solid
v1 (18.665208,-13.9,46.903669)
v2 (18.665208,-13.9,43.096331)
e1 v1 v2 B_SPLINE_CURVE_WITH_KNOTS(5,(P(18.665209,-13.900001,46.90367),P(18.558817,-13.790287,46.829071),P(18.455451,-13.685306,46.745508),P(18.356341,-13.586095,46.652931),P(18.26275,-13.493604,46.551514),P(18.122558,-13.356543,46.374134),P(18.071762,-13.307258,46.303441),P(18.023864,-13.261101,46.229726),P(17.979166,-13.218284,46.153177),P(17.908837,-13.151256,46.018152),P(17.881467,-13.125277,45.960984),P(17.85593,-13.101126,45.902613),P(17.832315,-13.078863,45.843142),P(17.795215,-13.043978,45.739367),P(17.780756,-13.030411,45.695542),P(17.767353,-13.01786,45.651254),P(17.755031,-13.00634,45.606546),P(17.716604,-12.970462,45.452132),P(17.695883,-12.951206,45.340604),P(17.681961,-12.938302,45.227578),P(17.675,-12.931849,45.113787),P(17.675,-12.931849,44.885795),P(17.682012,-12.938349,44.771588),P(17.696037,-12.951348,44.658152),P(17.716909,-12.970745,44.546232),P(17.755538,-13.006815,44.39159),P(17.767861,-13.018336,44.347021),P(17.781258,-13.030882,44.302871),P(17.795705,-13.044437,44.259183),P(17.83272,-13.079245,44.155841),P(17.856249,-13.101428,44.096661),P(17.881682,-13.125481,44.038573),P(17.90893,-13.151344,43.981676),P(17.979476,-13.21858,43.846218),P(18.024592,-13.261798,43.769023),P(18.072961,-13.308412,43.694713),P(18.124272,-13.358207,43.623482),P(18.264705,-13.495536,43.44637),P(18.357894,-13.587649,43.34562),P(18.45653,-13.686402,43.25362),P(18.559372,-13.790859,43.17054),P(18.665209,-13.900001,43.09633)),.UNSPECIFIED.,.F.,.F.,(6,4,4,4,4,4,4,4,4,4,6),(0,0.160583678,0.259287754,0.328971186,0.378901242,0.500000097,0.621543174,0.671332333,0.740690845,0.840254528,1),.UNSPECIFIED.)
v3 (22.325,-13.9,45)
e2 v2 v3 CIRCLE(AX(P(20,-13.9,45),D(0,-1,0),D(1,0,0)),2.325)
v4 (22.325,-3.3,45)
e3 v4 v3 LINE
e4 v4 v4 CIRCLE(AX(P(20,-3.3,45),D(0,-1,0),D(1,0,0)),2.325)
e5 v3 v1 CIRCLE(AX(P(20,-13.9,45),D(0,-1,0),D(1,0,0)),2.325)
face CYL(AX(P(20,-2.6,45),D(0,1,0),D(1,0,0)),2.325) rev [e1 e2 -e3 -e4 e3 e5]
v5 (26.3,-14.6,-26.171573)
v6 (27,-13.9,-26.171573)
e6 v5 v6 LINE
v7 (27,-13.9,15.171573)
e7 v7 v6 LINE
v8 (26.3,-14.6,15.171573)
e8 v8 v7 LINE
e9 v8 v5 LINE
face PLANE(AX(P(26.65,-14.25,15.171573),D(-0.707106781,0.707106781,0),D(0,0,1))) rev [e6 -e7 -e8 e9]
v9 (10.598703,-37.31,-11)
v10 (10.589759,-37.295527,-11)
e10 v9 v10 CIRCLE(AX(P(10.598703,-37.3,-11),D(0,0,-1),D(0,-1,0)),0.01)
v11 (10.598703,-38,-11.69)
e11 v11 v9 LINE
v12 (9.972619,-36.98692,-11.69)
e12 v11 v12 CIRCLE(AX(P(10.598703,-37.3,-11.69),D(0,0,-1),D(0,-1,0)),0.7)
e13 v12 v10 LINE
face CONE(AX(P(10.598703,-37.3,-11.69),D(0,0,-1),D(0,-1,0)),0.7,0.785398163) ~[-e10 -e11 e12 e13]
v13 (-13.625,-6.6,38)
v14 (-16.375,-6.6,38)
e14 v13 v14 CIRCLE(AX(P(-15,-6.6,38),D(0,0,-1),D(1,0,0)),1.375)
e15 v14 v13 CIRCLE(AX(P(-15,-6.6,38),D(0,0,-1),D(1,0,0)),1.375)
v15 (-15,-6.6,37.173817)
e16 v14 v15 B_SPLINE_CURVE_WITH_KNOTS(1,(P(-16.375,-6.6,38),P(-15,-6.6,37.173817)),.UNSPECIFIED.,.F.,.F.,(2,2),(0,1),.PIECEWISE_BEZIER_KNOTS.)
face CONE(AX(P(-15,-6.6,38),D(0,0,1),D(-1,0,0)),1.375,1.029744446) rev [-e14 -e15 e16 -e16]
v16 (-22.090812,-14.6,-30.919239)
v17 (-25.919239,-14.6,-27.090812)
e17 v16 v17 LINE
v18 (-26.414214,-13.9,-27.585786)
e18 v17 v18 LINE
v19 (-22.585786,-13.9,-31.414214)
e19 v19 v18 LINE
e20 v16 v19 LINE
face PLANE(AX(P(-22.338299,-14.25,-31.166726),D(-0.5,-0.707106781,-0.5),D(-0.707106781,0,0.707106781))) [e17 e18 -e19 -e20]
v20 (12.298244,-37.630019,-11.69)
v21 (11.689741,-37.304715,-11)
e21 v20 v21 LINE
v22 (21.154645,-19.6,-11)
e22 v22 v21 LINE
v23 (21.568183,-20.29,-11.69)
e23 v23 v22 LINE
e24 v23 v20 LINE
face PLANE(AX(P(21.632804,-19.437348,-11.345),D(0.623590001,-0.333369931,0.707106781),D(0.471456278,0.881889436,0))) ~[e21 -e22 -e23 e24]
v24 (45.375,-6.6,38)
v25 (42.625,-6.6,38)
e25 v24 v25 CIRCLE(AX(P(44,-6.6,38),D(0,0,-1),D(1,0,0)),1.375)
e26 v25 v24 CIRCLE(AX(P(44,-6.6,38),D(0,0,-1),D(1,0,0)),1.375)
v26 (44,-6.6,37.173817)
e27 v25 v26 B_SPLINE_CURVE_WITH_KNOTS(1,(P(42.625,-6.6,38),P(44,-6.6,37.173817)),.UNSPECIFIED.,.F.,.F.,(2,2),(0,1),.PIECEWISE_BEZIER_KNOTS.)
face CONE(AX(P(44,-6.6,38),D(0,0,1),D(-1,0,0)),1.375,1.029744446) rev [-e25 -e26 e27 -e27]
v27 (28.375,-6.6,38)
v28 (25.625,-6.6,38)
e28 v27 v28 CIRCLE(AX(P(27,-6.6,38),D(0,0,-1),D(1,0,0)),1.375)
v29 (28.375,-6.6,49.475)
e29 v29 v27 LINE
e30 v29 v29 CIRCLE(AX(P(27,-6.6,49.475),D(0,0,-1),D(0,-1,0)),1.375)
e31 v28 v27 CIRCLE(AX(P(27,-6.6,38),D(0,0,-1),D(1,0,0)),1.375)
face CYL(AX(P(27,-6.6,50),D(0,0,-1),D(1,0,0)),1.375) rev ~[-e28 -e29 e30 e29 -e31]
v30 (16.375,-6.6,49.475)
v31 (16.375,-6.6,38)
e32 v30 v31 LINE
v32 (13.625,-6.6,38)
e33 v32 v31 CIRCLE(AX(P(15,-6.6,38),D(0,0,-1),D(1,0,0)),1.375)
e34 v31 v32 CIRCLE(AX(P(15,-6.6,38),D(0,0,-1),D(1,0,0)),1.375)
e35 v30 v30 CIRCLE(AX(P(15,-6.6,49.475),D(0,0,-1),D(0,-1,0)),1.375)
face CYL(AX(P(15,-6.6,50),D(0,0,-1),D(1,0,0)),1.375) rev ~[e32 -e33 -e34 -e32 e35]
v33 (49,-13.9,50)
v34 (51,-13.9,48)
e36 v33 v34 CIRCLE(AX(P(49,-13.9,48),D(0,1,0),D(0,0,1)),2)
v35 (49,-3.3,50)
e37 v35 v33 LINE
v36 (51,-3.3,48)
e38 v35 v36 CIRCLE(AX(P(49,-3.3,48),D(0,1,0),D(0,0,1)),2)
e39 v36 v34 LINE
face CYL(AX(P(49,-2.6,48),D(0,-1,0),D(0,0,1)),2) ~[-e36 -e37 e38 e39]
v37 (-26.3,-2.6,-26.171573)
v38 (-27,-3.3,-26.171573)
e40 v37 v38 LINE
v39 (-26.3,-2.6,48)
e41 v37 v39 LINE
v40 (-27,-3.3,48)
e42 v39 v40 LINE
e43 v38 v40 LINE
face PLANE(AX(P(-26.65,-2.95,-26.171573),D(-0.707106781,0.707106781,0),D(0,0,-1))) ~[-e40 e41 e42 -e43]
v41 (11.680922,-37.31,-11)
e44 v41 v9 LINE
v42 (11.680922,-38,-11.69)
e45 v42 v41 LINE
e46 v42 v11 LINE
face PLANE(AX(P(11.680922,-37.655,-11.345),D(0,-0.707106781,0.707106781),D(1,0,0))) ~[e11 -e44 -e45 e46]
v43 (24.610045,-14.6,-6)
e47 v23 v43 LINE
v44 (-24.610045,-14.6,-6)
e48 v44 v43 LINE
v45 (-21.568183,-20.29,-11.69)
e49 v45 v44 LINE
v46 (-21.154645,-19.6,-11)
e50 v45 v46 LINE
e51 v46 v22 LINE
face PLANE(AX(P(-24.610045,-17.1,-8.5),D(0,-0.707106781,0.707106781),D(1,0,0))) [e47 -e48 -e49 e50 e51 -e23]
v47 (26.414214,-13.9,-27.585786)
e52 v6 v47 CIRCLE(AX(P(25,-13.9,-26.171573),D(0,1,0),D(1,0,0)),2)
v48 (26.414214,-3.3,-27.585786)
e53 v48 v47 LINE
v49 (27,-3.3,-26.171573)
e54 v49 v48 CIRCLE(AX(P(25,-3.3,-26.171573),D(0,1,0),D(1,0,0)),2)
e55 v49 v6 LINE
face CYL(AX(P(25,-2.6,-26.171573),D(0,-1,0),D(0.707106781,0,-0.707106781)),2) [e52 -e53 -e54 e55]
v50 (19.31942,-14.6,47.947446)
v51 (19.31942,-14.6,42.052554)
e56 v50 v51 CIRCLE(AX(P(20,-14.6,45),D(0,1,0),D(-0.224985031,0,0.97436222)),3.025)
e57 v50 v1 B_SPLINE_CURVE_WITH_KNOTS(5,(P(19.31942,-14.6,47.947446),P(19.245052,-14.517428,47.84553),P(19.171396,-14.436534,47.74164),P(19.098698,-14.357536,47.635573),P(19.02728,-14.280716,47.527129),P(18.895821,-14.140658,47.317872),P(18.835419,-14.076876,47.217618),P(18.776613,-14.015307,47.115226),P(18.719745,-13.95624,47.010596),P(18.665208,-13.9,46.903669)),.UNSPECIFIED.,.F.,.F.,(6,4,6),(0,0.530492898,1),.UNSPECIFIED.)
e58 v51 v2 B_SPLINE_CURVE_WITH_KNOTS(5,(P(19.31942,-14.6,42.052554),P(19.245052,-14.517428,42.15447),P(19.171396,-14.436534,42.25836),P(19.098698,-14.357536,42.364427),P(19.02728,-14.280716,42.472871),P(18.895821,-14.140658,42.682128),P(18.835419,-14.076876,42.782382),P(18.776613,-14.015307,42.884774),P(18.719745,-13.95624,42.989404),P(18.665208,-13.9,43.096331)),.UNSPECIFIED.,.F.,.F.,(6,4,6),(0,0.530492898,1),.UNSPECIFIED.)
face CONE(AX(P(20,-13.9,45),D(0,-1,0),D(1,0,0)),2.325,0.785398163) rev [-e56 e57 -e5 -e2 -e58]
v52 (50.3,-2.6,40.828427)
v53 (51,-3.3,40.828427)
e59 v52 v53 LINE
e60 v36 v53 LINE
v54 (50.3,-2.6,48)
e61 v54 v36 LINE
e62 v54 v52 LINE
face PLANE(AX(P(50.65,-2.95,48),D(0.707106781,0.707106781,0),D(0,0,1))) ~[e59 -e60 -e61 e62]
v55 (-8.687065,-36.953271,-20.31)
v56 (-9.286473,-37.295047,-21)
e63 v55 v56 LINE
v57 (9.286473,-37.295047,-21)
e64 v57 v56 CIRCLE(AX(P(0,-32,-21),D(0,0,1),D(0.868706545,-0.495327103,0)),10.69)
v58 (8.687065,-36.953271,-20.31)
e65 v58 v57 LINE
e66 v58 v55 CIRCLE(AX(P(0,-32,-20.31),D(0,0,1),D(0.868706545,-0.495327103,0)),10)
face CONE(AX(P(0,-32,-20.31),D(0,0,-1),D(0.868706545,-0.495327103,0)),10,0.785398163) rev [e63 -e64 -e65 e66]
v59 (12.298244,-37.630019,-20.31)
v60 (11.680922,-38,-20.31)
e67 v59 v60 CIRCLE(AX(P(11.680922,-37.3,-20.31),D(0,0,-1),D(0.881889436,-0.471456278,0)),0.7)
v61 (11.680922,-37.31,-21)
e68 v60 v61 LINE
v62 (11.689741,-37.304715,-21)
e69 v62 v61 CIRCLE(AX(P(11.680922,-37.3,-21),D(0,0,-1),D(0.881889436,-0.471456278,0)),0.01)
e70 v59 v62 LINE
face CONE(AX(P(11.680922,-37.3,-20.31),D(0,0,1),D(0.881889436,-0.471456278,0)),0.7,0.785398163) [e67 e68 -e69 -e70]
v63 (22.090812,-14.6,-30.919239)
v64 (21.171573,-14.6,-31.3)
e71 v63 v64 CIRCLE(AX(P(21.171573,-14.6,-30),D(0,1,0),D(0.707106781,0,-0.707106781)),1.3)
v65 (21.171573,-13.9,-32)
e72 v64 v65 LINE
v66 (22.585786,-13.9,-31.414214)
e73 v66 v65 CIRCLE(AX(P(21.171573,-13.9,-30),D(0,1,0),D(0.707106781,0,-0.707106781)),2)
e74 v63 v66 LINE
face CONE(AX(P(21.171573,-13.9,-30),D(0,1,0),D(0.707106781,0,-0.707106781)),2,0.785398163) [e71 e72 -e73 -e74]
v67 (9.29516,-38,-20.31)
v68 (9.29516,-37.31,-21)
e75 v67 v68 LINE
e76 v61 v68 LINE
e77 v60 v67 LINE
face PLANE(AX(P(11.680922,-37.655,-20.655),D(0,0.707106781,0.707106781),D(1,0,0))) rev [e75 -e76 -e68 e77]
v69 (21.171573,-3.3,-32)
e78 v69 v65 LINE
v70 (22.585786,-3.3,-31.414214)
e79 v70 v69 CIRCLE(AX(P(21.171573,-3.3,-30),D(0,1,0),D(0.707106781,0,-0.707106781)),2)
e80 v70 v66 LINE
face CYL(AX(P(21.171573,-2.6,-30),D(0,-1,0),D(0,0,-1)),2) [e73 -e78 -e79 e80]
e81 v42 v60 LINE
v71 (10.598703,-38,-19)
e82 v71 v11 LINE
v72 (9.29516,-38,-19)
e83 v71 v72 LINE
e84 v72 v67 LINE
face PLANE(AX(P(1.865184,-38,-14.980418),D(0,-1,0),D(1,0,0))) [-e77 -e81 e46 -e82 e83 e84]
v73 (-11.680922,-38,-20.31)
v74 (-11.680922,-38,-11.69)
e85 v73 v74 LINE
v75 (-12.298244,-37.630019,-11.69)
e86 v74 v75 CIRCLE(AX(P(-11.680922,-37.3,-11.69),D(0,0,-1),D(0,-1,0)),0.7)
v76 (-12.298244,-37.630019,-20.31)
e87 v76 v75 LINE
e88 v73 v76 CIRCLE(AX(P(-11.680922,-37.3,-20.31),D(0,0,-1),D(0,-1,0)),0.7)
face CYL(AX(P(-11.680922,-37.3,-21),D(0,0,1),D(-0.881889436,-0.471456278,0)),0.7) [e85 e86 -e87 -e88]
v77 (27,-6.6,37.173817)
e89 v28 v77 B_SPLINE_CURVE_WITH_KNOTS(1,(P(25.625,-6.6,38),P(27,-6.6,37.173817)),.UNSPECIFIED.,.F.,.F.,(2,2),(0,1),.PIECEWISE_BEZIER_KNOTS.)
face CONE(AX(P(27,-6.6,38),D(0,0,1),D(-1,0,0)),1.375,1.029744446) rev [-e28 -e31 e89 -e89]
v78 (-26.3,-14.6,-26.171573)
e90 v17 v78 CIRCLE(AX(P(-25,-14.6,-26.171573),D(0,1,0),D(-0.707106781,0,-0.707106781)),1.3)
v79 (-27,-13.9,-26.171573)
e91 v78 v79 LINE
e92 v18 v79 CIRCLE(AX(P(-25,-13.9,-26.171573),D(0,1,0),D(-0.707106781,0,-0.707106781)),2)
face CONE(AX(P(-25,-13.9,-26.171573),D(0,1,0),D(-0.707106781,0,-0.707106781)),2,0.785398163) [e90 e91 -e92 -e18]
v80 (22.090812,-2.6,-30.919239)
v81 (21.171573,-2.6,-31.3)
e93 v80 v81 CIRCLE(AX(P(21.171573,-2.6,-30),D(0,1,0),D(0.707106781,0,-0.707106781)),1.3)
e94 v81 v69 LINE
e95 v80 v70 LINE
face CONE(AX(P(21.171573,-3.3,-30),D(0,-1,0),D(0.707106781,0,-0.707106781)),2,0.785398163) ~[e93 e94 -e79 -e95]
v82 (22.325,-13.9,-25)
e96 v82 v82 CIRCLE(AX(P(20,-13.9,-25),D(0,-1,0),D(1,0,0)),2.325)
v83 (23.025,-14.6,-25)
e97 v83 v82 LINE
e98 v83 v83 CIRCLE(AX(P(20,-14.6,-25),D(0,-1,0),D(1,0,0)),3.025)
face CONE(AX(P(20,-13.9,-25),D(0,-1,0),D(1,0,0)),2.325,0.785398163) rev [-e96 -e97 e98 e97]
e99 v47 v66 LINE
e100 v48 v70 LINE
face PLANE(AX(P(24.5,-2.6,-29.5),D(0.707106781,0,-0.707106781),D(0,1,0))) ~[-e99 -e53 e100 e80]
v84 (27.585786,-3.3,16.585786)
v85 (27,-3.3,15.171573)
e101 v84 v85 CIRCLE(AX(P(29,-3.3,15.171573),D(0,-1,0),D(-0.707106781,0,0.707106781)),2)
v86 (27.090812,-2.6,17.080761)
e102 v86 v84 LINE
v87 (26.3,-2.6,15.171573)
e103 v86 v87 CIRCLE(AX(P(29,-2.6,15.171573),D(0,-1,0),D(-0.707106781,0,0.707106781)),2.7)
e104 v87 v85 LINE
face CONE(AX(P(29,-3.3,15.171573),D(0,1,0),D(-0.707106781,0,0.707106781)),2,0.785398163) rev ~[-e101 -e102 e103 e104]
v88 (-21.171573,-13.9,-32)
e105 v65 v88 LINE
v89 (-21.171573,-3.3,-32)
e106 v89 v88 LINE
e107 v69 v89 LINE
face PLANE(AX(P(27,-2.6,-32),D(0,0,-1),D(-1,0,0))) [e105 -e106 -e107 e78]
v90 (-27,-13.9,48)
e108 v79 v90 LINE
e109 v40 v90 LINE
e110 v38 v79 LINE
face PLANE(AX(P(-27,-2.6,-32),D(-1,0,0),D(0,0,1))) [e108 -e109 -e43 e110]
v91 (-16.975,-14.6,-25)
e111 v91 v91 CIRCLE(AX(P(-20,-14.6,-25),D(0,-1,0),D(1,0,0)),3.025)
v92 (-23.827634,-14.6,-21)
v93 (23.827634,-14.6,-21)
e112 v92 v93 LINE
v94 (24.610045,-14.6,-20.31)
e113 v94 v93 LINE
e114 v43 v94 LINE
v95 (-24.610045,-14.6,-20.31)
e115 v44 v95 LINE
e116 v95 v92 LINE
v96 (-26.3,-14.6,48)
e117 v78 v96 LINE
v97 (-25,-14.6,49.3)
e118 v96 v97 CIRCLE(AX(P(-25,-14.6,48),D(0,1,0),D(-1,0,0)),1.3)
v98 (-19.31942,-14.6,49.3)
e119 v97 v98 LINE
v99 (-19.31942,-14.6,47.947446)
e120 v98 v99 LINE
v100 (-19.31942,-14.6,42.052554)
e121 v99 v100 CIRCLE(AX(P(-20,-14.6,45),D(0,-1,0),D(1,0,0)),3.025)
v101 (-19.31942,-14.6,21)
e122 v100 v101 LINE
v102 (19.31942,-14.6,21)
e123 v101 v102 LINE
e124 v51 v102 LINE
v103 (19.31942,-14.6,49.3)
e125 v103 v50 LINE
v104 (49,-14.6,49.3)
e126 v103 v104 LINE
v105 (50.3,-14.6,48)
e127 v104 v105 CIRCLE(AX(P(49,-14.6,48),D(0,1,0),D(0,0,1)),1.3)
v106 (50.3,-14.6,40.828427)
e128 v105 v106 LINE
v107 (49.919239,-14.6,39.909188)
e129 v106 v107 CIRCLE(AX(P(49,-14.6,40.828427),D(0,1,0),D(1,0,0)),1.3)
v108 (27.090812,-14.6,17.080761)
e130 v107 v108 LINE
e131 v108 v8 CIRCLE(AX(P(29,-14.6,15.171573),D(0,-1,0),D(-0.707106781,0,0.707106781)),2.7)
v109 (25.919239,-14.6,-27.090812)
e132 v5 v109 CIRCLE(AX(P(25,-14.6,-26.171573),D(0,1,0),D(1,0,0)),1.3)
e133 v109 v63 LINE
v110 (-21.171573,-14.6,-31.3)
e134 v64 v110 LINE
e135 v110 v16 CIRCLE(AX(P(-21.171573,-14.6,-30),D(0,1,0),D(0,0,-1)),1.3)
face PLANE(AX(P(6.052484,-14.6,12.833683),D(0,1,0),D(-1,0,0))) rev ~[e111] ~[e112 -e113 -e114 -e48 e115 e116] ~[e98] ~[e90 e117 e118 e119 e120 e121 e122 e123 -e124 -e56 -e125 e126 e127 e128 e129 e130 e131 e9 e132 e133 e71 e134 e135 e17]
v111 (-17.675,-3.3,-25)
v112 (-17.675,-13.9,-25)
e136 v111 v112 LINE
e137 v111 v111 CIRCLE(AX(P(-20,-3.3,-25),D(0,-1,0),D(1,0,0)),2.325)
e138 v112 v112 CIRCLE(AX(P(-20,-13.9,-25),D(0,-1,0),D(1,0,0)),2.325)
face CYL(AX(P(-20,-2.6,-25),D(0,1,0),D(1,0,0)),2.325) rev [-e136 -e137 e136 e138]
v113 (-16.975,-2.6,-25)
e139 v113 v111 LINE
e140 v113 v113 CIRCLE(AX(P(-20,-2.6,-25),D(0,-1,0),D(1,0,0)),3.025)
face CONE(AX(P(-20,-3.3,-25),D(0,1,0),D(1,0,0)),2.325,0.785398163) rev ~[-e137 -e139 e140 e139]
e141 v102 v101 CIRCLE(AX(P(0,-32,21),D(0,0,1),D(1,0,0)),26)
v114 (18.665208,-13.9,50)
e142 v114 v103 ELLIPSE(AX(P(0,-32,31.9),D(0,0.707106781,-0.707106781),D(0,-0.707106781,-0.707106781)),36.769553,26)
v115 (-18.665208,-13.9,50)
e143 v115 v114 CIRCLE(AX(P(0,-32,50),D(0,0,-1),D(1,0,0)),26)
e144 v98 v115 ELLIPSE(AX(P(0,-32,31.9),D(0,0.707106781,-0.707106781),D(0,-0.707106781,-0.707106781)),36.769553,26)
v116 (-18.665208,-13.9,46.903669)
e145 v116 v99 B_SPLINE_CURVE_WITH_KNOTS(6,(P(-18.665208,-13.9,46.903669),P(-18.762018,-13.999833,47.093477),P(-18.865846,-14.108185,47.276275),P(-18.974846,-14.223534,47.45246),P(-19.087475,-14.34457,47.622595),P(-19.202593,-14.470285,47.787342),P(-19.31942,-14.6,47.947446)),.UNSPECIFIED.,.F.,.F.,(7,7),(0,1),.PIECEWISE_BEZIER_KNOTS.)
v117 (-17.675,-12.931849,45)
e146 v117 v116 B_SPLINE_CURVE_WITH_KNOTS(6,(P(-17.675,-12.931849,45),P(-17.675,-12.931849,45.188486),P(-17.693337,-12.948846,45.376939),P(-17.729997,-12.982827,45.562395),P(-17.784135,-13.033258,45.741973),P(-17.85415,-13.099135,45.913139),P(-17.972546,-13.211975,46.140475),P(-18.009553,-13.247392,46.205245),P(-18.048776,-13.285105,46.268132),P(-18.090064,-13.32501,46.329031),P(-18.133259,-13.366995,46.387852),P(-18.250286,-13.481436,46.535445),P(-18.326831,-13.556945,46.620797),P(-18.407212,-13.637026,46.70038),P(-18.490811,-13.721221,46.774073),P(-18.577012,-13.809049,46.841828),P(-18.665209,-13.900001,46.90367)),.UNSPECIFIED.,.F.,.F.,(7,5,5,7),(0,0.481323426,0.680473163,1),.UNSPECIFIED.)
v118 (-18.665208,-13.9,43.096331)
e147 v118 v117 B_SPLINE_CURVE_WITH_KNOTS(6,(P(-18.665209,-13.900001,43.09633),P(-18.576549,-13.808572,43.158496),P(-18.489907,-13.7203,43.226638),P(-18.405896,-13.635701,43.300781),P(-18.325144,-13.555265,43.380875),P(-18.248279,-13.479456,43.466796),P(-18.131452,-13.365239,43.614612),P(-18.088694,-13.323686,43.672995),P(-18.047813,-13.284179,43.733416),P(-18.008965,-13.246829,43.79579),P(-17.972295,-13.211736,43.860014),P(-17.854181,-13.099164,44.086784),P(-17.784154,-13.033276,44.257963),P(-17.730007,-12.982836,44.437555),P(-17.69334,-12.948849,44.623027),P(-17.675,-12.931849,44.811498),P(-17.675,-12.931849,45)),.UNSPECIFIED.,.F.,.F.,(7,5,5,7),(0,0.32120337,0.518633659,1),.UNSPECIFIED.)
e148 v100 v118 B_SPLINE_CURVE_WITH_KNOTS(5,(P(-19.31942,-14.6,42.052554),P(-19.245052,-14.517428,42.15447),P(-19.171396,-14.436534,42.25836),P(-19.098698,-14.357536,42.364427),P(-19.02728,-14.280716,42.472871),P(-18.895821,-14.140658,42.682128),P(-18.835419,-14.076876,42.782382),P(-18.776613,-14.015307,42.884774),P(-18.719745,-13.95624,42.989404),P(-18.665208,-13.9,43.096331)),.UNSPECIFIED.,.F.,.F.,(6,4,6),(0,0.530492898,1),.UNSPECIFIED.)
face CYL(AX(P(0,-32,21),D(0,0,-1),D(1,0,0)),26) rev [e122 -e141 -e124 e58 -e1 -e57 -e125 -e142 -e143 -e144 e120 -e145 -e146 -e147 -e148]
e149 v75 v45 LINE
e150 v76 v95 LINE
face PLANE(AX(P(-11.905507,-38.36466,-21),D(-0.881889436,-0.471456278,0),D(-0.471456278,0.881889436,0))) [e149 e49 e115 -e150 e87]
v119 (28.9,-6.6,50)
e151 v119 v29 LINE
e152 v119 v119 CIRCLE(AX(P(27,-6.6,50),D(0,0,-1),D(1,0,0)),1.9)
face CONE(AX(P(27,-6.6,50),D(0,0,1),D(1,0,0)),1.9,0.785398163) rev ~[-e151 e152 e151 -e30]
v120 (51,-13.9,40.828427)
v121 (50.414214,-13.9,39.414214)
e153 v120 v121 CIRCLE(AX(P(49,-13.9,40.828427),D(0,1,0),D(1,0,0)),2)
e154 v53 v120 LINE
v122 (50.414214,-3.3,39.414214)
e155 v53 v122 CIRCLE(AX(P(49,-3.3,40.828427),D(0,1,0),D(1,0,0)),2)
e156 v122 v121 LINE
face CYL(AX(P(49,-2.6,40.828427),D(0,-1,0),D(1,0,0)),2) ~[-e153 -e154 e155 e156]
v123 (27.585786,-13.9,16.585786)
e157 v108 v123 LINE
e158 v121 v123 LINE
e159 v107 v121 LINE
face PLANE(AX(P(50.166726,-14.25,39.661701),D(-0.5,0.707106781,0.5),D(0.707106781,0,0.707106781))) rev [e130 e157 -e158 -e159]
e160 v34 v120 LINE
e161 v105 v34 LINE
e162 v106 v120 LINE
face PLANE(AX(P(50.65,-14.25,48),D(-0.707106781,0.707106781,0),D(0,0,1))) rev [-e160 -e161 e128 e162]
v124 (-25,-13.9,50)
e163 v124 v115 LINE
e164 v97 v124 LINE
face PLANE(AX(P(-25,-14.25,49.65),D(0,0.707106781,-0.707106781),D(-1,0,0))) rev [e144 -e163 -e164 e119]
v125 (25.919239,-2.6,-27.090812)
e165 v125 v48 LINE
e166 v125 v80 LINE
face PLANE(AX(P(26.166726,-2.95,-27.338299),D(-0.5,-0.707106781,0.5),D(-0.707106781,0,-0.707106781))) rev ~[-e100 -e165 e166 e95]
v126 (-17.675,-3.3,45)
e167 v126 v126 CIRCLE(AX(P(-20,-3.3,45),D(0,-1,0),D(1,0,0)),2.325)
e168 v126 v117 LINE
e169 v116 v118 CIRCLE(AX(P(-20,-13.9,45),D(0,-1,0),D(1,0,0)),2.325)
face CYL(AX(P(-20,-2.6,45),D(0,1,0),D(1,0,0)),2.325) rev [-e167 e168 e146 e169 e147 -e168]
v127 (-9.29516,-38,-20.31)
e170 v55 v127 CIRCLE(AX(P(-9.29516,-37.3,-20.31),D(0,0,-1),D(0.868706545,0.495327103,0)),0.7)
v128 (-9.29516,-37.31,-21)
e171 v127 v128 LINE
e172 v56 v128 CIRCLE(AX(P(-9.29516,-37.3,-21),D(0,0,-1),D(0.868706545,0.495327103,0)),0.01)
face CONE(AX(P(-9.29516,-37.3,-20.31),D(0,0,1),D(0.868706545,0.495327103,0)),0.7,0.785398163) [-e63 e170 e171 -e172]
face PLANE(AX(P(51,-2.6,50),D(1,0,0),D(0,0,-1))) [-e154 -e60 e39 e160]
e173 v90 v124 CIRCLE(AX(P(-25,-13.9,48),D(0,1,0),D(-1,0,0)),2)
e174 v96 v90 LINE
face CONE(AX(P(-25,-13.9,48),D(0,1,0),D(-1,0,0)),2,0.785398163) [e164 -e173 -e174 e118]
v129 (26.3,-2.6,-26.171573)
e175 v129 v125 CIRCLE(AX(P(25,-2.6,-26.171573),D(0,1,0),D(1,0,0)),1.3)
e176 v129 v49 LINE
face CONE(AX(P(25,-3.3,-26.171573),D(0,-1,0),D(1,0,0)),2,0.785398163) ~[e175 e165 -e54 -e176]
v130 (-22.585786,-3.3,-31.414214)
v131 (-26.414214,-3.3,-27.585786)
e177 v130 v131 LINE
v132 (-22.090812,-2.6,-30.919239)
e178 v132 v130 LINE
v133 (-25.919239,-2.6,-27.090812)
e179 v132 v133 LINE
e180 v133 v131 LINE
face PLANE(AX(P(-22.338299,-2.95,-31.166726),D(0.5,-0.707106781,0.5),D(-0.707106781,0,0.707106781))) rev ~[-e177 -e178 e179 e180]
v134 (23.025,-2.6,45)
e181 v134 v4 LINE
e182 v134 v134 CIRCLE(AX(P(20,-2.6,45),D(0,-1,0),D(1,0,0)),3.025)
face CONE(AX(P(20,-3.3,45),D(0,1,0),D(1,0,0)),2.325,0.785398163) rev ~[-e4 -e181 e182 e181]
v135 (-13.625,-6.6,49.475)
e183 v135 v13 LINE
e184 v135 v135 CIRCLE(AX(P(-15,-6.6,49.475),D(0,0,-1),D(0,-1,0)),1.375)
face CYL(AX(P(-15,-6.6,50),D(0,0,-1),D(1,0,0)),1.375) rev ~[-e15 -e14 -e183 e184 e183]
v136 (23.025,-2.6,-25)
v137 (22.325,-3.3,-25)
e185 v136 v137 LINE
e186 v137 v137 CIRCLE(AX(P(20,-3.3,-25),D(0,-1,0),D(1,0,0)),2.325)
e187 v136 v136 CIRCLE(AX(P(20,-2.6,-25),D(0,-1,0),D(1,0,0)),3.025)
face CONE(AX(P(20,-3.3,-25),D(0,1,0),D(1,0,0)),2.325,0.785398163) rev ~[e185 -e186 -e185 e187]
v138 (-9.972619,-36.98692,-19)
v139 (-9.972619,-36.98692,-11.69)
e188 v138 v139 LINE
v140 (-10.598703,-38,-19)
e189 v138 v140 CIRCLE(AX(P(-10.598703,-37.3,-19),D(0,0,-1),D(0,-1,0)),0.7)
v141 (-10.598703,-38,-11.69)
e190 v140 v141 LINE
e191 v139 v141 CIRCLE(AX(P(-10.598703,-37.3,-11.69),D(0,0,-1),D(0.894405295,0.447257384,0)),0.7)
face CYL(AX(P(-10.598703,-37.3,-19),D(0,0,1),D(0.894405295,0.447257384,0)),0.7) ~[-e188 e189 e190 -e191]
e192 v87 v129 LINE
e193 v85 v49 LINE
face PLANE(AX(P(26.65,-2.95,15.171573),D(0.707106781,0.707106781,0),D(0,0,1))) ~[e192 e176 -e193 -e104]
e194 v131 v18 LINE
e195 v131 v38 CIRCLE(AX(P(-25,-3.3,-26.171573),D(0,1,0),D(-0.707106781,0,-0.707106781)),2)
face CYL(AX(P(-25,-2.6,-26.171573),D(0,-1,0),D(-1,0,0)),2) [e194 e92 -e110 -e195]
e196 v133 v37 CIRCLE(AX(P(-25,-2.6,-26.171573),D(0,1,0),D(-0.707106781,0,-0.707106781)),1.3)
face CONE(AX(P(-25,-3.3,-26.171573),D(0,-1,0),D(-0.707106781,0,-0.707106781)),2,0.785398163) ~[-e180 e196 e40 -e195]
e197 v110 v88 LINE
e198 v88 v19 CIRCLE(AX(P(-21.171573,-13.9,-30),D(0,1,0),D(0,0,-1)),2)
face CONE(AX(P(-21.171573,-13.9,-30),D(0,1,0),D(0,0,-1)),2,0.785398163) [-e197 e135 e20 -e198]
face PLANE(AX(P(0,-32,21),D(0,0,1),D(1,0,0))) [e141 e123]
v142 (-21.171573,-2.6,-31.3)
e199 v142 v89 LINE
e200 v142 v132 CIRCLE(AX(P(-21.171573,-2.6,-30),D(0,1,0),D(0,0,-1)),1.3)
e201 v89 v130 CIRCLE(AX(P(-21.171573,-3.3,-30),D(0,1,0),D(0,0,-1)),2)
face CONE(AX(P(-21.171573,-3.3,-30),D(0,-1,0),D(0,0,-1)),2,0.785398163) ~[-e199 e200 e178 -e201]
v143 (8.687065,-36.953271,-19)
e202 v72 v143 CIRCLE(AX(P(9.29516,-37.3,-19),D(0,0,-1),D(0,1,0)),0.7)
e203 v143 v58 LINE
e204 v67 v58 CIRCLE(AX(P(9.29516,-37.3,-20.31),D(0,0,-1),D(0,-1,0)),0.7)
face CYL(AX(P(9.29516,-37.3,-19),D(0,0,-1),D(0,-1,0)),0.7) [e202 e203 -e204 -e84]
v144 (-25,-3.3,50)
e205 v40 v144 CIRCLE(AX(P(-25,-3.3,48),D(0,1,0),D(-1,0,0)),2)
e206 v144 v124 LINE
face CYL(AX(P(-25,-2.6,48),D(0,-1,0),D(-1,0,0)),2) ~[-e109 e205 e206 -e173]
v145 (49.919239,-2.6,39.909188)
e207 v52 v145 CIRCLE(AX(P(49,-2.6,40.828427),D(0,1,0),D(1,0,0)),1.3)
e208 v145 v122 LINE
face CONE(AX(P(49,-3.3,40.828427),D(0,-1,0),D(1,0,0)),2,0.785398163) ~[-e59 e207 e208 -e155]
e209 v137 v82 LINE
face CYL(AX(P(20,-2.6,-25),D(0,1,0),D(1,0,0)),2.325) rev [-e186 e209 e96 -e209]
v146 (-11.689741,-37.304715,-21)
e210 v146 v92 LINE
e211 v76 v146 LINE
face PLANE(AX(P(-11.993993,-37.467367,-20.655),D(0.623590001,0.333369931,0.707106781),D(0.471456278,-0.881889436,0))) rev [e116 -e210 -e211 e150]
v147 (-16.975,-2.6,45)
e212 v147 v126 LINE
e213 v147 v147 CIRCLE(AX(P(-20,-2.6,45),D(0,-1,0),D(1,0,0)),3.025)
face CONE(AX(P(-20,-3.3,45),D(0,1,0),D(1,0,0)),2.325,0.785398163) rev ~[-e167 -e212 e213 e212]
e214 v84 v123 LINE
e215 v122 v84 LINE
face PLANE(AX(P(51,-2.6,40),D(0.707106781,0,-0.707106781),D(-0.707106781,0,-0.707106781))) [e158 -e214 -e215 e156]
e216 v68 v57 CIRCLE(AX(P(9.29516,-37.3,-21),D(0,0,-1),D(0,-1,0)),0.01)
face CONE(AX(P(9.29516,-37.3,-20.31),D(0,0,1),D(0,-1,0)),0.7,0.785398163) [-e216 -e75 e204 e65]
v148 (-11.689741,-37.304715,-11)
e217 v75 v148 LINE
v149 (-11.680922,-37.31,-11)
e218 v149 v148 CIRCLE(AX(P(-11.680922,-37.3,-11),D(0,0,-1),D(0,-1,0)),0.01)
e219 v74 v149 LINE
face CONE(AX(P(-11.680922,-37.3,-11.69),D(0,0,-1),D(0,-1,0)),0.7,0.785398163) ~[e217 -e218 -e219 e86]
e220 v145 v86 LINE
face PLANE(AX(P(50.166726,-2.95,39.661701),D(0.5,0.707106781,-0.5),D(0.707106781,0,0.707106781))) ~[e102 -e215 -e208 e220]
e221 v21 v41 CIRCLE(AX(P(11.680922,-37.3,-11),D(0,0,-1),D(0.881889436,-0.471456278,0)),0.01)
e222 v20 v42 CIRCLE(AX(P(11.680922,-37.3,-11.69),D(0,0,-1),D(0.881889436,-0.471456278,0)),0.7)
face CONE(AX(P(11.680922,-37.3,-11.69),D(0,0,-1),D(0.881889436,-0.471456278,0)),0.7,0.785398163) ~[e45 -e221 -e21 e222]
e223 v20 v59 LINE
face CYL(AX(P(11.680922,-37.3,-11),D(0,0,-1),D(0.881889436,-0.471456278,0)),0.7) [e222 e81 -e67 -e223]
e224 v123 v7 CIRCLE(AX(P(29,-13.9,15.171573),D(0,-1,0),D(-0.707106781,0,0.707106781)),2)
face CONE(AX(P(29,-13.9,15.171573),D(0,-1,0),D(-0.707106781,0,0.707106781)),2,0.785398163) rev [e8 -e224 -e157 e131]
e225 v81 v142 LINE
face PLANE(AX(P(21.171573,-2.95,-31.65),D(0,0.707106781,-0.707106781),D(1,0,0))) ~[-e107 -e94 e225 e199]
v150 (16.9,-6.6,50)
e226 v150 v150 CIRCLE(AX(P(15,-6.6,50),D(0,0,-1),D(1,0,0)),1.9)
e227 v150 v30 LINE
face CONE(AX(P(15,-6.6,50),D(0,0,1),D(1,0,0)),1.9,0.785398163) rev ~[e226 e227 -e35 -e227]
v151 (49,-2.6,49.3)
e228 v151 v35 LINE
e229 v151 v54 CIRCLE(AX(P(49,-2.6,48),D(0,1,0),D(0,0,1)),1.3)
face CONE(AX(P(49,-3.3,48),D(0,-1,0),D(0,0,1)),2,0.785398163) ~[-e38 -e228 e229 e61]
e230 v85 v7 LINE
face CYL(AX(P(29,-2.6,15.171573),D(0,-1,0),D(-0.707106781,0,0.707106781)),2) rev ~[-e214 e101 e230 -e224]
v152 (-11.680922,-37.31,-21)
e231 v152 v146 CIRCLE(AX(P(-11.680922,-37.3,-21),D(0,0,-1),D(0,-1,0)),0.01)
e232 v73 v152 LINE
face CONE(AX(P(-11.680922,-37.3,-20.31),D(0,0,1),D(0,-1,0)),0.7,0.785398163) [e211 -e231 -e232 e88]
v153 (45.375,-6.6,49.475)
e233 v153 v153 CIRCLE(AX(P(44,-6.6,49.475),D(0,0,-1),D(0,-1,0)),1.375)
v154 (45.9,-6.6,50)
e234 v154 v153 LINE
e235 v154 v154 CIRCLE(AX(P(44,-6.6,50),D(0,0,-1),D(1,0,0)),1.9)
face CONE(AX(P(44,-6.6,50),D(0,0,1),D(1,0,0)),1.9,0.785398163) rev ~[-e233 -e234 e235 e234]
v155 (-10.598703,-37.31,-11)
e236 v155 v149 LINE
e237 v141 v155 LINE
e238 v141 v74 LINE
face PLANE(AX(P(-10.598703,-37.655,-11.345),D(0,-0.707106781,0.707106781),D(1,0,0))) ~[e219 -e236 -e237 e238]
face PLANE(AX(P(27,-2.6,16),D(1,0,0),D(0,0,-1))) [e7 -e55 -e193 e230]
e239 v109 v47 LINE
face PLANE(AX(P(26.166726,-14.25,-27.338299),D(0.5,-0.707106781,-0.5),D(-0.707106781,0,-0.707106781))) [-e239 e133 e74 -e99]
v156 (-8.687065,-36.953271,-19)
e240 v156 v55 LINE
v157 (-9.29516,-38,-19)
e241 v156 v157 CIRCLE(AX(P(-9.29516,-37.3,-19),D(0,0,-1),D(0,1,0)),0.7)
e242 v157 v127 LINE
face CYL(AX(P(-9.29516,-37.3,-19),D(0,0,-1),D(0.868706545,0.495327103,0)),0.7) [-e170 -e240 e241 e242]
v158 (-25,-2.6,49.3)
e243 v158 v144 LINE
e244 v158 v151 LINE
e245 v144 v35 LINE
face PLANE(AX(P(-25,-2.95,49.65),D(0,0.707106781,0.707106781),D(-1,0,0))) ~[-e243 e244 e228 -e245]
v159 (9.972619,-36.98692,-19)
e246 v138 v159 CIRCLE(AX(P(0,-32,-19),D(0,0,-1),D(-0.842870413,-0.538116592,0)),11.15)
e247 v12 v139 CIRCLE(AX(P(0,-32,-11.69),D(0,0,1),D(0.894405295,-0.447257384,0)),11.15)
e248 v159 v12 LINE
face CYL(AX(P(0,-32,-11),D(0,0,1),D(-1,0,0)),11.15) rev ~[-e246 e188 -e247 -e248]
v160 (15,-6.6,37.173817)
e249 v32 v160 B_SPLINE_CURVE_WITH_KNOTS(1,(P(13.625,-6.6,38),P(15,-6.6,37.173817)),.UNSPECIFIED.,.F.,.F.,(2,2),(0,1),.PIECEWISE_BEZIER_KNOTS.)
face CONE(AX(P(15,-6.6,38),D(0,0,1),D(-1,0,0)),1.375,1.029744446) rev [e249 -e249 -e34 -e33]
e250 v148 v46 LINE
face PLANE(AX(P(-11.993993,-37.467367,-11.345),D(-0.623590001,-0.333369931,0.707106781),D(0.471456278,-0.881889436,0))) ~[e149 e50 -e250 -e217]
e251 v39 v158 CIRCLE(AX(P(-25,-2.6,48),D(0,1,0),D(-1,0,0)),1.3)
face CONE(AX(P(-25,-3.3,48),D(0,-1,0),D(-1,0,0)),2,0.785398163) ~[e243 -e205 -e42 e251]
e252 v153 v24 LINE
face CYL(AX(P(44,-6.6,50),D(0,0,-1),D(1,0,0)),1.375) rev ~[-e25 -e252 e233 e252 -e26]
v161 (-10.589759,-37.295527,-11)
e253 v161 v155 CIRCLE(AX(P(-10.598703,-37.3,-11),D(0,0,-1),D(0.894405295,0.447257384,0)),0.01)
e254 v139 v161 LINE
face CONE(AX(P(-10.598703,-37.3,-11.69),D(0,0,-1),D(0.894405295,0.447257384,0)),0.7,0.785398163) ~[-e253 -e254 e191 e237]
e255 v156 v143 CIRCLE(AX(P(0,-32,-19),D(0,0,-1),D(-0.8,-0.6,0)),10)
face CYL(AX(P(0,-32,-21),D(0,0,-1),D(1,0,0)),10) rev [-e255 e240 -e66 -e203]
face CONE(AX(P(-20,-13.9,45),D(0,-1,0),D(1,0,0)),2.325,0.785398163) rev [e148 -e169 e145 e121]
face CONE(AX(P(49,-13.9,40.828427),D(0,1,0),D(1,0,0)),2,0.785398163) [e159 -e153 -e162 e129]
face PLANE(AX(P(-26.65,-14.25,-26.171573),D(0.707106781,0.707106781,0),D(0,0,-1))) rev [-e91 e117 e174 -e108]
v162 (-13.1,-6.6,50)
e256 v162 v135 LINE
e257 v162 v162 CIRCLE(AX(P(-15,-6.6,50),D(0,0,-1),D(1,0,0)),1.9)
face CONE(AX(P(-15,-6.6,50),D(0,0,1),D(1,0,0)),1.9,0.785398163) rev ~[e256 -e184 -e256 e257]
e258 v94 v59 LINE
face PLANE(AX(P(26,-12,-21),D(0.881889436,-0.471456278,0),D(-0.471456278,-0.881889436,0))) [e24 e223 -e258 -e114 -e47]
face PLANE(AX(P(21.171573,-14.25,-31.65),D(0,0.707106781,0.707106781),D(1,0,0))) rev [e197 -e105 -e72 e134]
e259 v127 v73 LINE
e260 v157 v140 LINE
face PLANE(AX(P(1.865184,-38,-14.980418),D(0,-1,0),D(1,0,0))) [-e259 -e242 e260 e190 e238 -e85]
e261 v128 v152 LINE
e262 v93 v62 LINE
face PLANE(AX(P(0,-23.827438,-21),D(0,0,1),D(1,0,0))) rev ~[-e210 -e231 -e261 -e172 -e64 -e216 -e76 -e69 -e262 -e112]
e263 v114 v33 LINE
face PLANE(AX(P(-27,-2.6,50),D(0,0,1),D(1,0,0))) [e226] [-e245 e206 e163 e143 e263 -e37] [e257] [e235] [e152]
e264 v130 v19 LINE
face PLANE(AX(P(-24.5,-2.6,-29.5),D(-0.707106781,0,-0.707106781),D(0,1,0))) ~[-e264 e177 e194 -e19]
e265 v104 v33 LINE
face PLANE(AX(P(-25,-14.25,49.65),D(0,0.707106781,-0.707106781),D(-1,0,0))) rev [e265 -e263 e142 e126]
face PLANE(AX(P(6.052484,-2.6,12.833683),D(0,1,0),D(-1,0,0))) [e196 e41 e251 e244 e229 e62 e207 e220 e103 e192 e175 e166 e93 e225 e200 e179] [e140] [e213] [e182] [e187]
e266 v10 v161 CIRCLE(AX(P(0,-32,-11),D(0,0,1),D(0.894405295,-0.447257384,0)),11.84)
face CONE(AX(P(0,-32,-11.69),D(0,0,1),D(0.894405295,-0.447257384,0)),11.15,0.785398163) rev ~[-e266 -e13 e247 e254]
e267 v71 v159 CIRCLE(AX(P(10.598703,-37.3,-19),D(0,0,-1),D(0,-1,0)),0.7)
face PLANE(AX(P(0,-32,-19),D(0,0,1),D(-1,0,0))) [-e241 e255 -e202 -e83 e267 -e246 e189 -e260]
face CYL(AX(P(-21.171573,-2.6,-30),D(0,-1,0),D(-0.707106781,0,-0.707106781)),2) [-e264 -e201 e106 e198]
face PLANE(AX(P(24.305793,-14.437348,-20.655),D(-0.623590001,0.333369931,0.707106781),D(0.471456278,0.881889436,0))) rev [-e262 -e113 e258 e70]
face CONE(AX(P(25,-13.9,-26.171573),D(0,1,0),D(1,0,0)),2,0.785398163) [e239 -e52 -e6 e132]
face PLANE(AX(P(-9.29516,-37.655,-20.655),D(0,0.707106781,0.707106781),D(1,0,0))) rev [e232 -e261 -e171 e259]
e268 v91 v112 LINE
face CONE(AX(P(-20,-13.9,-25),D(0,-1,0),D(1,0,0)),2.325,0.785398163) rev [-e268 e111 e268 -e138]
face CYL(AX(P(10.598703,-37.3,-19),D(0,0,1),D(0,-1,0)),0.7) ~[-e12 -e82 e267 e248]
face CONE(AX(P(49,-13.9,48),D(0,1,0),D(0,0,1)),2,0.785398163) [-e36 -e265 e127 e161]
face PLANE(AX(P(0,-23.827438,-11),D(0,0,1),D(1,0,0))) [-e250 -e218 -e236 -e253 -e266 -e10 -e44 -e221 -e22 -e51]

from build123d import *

# Parameters (mm, degrees)
SKETCH025_R         = 2.325
PAD012_DEPTH        = 12
CHAMFER006_SIZE     = 5
FILLET_R            = 2
CHAMFER007_SIZE     = 0.7
SKETCH030_R         = 26
POCKET007_DEPTH     = 29.001
SKETCH031_R         = 10
PAD016_DEPTH        = 10
SKETCH032_R         = 11.15
POCKET008_DEPTH     = 8
CHAMFER008_SIZE     = 5
HOLE003_D           = 2.75
HOLE003_DEPTH       = 12
HOLE003_CSINK_D     = 3.8
HOLE003_CSINK_ANGLE = 90
HOLE003_TIPS_R      = 1.375
SKETCH034_W         = 51.071297
SKETCH034_H         = 46.191857
POCKET009_DEPTH     = 7.501
FILLET005_R         = 0.7
CHAMFER011_SIZE     = 0.69


with BuildPart() as part:
    # Sketch025 → Pad012 (new body)
    with BuildSketch(Plane.XZ):
        Polygon((-27, 50), (51, 50), (51, 40), (27, 16), (27, -32), (-27, -32), align=None)
        with Locations((-20, -25)):
            Circle(SKETCH025_R, mode=Mode.SUBTRACT)
        with Locations((-20, 45)):
            Circle(SKETCH025_R, mode=Mode.SUBTRACT)
        with Locations((20, 45)):
            Circle(SKETCH025_R, mode=Mode.SUBTRACT)
        with Locations((20, -25)):
            Circle(SKETCH025_R, mode=Mode.SUBTRACT)
    extrude(amount=PAD012_DEPTH)

    # Chamfer006
    chamfer006_edges = [part.edges().sort_by_distance(p)[0] for p in [
        (-27, -6, -32),
        (27, -6, -32),
    ]]
    chamfer(chamfer006_edges, length=CHAMFER006_SIZE)

    # Fillet
    fillet_edges = [part.edges().sort_by_distance(p)[0] for p in [
        (-22, -6, -32),
        (-27, -6, -27),
        (22, -6, -32),
        (27, -6, -27),
        (27, -6, 16),
        (51, -6, 40),
        (51, -6, 50),
        (-27, -6, 50),
    ]]
    fillet(fillet_edges, radius=FILLET_R)

    # Chamfer007
    chamfer007_edges = [part.edges().sort_by_distance(p)[0] for p in [
        (0, 0, -32),
        (21.93694, 0, -31.847759),
        (-21.93694, 0, -31.847759),
        (24.5, 0, -29.5),
        (-24.5, 0, -29.5),
        (26.847759, 0, -26.93694),
        (-26.847759, 0, -26.93694),
        (27, 0, -5.5),
        (-27, 0, 10.914214),
        (27.152241, 0, 15.93694),
        (-26.414214, 0, 49.414214),
        (39, 0, 28),
        (12, 0, 50),
        (50.847759, 0, 40.06306),
        (50.414214, 0, 49.414214),
        (51, 0, 44.414214),
        (17.675, 0, 45),
        (-22.325, 0, 45),
        (17.675, 0, -25),
        (-22.325, 0, -25),
        (0, -12, -32),
        (21.93694, -12, -31.847759),
        (-21.93694, -12, -31.847759),
        (24.5, -12, -29.5),
        (-24.5, -12, -29.5),
        (26.847759, -12, -26.93694),
        (-26.847759, -12, -26.93694),
        (27, -12, -5.5),
        (-27, -12, 10.914214),
        (27.152241, -12, 15.93694),
        (-26.414214, -12, 49.414214),
        (39, -12, 28),
        (12, -12, 50),
        (50.847759, -12, 40.06306),
        (50.414214, -12, 49.414214),
        (51, -12, 44.414214),
        (17.675, -12, 45),
        (-22.325, -12, 45),
        (17.675, -12, -25),
        (-22.325, -12, -25),
    ]]
    chamfer(chamfer007_edges, length=CHAMFER007_SIZE)

    # Sketch030 → Pocket007 (cut, through all)
    with BuildSketch(Plane(origin=(0, -29.4, 21), x_dir=(1, 0, 0), z_dir=(0, 0, 1))):
        Circle(SKETCH030_R)
    extrude(amount=POCKET007_DEPTH, mode=Mode.SUBTRACT)

    # Sketch031 → Pad016 (join)
    with BuildSketch(Plane(origin=(0, -29.4, -21), x_dir=(1, 0, 0), z_dir=(0, 0, 1))):
        with BuildLine():
            ThreePointArc((-11.905507, -6.36466), (0, -13.5), (11.905507, -6.36466))
            Line((26, 20), (11.905507, -6.36466))
            Line((-26, 20), (26, 20))
            Line((-11.905507, -6.36466), (-26, 20))
        make_face()
        Circle(SKETCH031_R, mode=Mode.SUBTRACT)
    extrude(amount=PAD016_DEPTH)

    # Sketch032 (on Face56 of Pad016) → Pocket008 (cut)
    with BuildSketch(Plane(origin=(0, 0, -11), x_dir=(-1, 0, 0), z_dir=(0, 0, 1))):
        with Locations((0, 29.4)):
            Circle(SKETCH032_R)
    extrude(amount=-POCKET008_DEPTH, mode=Mode.SUBTRACT)

    # Chamfer008
    chamfer008_edges = [part.edges().sort_by_distance(p)[0] for p in [
        (0, -12, -11),
    ]]
    chamfer(chamfer008_edges, length=CHAMFER008_SIZE)

    # Hole003
    with Locations(Plane(origin=(0, 0, 50), x_dir=(-1, 0, 0), z_dir=(0, 0, 1))):
        with Locations((15, 4), (-15, 4), (-27, 4), (-44, 4)):
            CounterSinkHole(HOLE003_D / 2, HOLE003_CSINK_D / 2, depth=HOLE003_DEPTH, counter_sink_angle=HOLE003_CSINK_ANGLE)

    # Hole003 tips → Hole003 tip 1 section 0
    with BuildSketch(Plane(origin=(0, 0, 38), x_dir=(-1, 0, 0), z_dir=(0, 0, 1)), mode=Mode.PRIVATE) as hole003_tip_1_s0:
        with Locations((15, 4)):
            Circle(HOLE003_TIPS_R)
    loft([hole003_tip_1_s0.sketch, Vertex(-15, -4, 37.173817)], mode=Mode.SUBTRACT)

    # Hole003 tips → Hole003 tip 2 section 0
    with BuildSketch(Plane(origin=(0, 0, 38), x_dir=(-1, 0, 0), z_dir=(0, 0, 1)), mode=Mode.PRIVATE) as hole003_tip_2_s0:
        with Locations((-15, 4)):
            Circle(HOLE003_TIPS_R)
    loft([hole003_tip_2_s0.sketch, Vertex(15, -4, 37.173817)], mode=Mode.SUBTRACT)

    # Hole003 tips → Hole003 tip 3 section 0
    with BuildSketch(Plane(origin=(0, 0, 38), x_dir=(-1, 0, 0), z_dir=(0, 0, 1)), mode=Mode.PRIVATE) as hole003_tip_3_s0:
        with Locations((-27, 4)):
            Circle(HOLE003_TIPS_R)
    loft([hole003_tip_3_s0.sketch, Vertex(27, -4, 37.173817)], mode=Mode.SUBTRACT)

    # Hole003 tips → Hole003 tip 4 section 0
    with BuildSketch(Plane(origin=(0, 0, 38), x_dir=(-1, 0, 0), z_dir=(0, 0, 1)), mode=Mode.PRIVATE) as hole003_tip_4_s0:
        with Locations((-44, 4)):
            Circle(HOLE003_TIPS_R)
    loft([hole003_tip_4_s0.sketch, Vertex(44, -4, 37.173817)], mode=Mode.SUBTRACT)

    # Sketch034 → Pocket009 (cut, through all)
    with BuildSketch(Plane.XZ.offset(35.4)):
        with Locations((1.865184, -14.980418)):
            Rectangle(SKETCH034_W, SKETCH034_H)
    extrude(amount=POCKET009_DEPTH, mode=Mode.SUBTRACT)

    # Fillet005
    fillet005_edges = [part.edges().sort_by_distance(p)[0] for p in [
        (-9.398005, -35.4, -15),
        (-8, -35.4, -20),
        (-12.100454, -35.4, -16),
        (9.398005, -35.4, -15),
        (12.100454, -35.4, -16),
        (8, -35.4, -20),
    ]]
    fillet(fillet005_edges, radius=FILLET005_R)

    # Chamfer011
    chamfer011_edges = [part.edges().sort_by_distance(p)[0] for p in [
        (17.11765, -26.01501, -11),
        (18.454145, -23.51501, -21),
    ]]
    chamfer(chamfer011_edges, length=CHAMFER011_SIZE)


with BuildPart() as part_1:
    # Body010 placement: moved
    add(part.part.moved(Location((0, -2.6, 0))))


solid = part_1.part
